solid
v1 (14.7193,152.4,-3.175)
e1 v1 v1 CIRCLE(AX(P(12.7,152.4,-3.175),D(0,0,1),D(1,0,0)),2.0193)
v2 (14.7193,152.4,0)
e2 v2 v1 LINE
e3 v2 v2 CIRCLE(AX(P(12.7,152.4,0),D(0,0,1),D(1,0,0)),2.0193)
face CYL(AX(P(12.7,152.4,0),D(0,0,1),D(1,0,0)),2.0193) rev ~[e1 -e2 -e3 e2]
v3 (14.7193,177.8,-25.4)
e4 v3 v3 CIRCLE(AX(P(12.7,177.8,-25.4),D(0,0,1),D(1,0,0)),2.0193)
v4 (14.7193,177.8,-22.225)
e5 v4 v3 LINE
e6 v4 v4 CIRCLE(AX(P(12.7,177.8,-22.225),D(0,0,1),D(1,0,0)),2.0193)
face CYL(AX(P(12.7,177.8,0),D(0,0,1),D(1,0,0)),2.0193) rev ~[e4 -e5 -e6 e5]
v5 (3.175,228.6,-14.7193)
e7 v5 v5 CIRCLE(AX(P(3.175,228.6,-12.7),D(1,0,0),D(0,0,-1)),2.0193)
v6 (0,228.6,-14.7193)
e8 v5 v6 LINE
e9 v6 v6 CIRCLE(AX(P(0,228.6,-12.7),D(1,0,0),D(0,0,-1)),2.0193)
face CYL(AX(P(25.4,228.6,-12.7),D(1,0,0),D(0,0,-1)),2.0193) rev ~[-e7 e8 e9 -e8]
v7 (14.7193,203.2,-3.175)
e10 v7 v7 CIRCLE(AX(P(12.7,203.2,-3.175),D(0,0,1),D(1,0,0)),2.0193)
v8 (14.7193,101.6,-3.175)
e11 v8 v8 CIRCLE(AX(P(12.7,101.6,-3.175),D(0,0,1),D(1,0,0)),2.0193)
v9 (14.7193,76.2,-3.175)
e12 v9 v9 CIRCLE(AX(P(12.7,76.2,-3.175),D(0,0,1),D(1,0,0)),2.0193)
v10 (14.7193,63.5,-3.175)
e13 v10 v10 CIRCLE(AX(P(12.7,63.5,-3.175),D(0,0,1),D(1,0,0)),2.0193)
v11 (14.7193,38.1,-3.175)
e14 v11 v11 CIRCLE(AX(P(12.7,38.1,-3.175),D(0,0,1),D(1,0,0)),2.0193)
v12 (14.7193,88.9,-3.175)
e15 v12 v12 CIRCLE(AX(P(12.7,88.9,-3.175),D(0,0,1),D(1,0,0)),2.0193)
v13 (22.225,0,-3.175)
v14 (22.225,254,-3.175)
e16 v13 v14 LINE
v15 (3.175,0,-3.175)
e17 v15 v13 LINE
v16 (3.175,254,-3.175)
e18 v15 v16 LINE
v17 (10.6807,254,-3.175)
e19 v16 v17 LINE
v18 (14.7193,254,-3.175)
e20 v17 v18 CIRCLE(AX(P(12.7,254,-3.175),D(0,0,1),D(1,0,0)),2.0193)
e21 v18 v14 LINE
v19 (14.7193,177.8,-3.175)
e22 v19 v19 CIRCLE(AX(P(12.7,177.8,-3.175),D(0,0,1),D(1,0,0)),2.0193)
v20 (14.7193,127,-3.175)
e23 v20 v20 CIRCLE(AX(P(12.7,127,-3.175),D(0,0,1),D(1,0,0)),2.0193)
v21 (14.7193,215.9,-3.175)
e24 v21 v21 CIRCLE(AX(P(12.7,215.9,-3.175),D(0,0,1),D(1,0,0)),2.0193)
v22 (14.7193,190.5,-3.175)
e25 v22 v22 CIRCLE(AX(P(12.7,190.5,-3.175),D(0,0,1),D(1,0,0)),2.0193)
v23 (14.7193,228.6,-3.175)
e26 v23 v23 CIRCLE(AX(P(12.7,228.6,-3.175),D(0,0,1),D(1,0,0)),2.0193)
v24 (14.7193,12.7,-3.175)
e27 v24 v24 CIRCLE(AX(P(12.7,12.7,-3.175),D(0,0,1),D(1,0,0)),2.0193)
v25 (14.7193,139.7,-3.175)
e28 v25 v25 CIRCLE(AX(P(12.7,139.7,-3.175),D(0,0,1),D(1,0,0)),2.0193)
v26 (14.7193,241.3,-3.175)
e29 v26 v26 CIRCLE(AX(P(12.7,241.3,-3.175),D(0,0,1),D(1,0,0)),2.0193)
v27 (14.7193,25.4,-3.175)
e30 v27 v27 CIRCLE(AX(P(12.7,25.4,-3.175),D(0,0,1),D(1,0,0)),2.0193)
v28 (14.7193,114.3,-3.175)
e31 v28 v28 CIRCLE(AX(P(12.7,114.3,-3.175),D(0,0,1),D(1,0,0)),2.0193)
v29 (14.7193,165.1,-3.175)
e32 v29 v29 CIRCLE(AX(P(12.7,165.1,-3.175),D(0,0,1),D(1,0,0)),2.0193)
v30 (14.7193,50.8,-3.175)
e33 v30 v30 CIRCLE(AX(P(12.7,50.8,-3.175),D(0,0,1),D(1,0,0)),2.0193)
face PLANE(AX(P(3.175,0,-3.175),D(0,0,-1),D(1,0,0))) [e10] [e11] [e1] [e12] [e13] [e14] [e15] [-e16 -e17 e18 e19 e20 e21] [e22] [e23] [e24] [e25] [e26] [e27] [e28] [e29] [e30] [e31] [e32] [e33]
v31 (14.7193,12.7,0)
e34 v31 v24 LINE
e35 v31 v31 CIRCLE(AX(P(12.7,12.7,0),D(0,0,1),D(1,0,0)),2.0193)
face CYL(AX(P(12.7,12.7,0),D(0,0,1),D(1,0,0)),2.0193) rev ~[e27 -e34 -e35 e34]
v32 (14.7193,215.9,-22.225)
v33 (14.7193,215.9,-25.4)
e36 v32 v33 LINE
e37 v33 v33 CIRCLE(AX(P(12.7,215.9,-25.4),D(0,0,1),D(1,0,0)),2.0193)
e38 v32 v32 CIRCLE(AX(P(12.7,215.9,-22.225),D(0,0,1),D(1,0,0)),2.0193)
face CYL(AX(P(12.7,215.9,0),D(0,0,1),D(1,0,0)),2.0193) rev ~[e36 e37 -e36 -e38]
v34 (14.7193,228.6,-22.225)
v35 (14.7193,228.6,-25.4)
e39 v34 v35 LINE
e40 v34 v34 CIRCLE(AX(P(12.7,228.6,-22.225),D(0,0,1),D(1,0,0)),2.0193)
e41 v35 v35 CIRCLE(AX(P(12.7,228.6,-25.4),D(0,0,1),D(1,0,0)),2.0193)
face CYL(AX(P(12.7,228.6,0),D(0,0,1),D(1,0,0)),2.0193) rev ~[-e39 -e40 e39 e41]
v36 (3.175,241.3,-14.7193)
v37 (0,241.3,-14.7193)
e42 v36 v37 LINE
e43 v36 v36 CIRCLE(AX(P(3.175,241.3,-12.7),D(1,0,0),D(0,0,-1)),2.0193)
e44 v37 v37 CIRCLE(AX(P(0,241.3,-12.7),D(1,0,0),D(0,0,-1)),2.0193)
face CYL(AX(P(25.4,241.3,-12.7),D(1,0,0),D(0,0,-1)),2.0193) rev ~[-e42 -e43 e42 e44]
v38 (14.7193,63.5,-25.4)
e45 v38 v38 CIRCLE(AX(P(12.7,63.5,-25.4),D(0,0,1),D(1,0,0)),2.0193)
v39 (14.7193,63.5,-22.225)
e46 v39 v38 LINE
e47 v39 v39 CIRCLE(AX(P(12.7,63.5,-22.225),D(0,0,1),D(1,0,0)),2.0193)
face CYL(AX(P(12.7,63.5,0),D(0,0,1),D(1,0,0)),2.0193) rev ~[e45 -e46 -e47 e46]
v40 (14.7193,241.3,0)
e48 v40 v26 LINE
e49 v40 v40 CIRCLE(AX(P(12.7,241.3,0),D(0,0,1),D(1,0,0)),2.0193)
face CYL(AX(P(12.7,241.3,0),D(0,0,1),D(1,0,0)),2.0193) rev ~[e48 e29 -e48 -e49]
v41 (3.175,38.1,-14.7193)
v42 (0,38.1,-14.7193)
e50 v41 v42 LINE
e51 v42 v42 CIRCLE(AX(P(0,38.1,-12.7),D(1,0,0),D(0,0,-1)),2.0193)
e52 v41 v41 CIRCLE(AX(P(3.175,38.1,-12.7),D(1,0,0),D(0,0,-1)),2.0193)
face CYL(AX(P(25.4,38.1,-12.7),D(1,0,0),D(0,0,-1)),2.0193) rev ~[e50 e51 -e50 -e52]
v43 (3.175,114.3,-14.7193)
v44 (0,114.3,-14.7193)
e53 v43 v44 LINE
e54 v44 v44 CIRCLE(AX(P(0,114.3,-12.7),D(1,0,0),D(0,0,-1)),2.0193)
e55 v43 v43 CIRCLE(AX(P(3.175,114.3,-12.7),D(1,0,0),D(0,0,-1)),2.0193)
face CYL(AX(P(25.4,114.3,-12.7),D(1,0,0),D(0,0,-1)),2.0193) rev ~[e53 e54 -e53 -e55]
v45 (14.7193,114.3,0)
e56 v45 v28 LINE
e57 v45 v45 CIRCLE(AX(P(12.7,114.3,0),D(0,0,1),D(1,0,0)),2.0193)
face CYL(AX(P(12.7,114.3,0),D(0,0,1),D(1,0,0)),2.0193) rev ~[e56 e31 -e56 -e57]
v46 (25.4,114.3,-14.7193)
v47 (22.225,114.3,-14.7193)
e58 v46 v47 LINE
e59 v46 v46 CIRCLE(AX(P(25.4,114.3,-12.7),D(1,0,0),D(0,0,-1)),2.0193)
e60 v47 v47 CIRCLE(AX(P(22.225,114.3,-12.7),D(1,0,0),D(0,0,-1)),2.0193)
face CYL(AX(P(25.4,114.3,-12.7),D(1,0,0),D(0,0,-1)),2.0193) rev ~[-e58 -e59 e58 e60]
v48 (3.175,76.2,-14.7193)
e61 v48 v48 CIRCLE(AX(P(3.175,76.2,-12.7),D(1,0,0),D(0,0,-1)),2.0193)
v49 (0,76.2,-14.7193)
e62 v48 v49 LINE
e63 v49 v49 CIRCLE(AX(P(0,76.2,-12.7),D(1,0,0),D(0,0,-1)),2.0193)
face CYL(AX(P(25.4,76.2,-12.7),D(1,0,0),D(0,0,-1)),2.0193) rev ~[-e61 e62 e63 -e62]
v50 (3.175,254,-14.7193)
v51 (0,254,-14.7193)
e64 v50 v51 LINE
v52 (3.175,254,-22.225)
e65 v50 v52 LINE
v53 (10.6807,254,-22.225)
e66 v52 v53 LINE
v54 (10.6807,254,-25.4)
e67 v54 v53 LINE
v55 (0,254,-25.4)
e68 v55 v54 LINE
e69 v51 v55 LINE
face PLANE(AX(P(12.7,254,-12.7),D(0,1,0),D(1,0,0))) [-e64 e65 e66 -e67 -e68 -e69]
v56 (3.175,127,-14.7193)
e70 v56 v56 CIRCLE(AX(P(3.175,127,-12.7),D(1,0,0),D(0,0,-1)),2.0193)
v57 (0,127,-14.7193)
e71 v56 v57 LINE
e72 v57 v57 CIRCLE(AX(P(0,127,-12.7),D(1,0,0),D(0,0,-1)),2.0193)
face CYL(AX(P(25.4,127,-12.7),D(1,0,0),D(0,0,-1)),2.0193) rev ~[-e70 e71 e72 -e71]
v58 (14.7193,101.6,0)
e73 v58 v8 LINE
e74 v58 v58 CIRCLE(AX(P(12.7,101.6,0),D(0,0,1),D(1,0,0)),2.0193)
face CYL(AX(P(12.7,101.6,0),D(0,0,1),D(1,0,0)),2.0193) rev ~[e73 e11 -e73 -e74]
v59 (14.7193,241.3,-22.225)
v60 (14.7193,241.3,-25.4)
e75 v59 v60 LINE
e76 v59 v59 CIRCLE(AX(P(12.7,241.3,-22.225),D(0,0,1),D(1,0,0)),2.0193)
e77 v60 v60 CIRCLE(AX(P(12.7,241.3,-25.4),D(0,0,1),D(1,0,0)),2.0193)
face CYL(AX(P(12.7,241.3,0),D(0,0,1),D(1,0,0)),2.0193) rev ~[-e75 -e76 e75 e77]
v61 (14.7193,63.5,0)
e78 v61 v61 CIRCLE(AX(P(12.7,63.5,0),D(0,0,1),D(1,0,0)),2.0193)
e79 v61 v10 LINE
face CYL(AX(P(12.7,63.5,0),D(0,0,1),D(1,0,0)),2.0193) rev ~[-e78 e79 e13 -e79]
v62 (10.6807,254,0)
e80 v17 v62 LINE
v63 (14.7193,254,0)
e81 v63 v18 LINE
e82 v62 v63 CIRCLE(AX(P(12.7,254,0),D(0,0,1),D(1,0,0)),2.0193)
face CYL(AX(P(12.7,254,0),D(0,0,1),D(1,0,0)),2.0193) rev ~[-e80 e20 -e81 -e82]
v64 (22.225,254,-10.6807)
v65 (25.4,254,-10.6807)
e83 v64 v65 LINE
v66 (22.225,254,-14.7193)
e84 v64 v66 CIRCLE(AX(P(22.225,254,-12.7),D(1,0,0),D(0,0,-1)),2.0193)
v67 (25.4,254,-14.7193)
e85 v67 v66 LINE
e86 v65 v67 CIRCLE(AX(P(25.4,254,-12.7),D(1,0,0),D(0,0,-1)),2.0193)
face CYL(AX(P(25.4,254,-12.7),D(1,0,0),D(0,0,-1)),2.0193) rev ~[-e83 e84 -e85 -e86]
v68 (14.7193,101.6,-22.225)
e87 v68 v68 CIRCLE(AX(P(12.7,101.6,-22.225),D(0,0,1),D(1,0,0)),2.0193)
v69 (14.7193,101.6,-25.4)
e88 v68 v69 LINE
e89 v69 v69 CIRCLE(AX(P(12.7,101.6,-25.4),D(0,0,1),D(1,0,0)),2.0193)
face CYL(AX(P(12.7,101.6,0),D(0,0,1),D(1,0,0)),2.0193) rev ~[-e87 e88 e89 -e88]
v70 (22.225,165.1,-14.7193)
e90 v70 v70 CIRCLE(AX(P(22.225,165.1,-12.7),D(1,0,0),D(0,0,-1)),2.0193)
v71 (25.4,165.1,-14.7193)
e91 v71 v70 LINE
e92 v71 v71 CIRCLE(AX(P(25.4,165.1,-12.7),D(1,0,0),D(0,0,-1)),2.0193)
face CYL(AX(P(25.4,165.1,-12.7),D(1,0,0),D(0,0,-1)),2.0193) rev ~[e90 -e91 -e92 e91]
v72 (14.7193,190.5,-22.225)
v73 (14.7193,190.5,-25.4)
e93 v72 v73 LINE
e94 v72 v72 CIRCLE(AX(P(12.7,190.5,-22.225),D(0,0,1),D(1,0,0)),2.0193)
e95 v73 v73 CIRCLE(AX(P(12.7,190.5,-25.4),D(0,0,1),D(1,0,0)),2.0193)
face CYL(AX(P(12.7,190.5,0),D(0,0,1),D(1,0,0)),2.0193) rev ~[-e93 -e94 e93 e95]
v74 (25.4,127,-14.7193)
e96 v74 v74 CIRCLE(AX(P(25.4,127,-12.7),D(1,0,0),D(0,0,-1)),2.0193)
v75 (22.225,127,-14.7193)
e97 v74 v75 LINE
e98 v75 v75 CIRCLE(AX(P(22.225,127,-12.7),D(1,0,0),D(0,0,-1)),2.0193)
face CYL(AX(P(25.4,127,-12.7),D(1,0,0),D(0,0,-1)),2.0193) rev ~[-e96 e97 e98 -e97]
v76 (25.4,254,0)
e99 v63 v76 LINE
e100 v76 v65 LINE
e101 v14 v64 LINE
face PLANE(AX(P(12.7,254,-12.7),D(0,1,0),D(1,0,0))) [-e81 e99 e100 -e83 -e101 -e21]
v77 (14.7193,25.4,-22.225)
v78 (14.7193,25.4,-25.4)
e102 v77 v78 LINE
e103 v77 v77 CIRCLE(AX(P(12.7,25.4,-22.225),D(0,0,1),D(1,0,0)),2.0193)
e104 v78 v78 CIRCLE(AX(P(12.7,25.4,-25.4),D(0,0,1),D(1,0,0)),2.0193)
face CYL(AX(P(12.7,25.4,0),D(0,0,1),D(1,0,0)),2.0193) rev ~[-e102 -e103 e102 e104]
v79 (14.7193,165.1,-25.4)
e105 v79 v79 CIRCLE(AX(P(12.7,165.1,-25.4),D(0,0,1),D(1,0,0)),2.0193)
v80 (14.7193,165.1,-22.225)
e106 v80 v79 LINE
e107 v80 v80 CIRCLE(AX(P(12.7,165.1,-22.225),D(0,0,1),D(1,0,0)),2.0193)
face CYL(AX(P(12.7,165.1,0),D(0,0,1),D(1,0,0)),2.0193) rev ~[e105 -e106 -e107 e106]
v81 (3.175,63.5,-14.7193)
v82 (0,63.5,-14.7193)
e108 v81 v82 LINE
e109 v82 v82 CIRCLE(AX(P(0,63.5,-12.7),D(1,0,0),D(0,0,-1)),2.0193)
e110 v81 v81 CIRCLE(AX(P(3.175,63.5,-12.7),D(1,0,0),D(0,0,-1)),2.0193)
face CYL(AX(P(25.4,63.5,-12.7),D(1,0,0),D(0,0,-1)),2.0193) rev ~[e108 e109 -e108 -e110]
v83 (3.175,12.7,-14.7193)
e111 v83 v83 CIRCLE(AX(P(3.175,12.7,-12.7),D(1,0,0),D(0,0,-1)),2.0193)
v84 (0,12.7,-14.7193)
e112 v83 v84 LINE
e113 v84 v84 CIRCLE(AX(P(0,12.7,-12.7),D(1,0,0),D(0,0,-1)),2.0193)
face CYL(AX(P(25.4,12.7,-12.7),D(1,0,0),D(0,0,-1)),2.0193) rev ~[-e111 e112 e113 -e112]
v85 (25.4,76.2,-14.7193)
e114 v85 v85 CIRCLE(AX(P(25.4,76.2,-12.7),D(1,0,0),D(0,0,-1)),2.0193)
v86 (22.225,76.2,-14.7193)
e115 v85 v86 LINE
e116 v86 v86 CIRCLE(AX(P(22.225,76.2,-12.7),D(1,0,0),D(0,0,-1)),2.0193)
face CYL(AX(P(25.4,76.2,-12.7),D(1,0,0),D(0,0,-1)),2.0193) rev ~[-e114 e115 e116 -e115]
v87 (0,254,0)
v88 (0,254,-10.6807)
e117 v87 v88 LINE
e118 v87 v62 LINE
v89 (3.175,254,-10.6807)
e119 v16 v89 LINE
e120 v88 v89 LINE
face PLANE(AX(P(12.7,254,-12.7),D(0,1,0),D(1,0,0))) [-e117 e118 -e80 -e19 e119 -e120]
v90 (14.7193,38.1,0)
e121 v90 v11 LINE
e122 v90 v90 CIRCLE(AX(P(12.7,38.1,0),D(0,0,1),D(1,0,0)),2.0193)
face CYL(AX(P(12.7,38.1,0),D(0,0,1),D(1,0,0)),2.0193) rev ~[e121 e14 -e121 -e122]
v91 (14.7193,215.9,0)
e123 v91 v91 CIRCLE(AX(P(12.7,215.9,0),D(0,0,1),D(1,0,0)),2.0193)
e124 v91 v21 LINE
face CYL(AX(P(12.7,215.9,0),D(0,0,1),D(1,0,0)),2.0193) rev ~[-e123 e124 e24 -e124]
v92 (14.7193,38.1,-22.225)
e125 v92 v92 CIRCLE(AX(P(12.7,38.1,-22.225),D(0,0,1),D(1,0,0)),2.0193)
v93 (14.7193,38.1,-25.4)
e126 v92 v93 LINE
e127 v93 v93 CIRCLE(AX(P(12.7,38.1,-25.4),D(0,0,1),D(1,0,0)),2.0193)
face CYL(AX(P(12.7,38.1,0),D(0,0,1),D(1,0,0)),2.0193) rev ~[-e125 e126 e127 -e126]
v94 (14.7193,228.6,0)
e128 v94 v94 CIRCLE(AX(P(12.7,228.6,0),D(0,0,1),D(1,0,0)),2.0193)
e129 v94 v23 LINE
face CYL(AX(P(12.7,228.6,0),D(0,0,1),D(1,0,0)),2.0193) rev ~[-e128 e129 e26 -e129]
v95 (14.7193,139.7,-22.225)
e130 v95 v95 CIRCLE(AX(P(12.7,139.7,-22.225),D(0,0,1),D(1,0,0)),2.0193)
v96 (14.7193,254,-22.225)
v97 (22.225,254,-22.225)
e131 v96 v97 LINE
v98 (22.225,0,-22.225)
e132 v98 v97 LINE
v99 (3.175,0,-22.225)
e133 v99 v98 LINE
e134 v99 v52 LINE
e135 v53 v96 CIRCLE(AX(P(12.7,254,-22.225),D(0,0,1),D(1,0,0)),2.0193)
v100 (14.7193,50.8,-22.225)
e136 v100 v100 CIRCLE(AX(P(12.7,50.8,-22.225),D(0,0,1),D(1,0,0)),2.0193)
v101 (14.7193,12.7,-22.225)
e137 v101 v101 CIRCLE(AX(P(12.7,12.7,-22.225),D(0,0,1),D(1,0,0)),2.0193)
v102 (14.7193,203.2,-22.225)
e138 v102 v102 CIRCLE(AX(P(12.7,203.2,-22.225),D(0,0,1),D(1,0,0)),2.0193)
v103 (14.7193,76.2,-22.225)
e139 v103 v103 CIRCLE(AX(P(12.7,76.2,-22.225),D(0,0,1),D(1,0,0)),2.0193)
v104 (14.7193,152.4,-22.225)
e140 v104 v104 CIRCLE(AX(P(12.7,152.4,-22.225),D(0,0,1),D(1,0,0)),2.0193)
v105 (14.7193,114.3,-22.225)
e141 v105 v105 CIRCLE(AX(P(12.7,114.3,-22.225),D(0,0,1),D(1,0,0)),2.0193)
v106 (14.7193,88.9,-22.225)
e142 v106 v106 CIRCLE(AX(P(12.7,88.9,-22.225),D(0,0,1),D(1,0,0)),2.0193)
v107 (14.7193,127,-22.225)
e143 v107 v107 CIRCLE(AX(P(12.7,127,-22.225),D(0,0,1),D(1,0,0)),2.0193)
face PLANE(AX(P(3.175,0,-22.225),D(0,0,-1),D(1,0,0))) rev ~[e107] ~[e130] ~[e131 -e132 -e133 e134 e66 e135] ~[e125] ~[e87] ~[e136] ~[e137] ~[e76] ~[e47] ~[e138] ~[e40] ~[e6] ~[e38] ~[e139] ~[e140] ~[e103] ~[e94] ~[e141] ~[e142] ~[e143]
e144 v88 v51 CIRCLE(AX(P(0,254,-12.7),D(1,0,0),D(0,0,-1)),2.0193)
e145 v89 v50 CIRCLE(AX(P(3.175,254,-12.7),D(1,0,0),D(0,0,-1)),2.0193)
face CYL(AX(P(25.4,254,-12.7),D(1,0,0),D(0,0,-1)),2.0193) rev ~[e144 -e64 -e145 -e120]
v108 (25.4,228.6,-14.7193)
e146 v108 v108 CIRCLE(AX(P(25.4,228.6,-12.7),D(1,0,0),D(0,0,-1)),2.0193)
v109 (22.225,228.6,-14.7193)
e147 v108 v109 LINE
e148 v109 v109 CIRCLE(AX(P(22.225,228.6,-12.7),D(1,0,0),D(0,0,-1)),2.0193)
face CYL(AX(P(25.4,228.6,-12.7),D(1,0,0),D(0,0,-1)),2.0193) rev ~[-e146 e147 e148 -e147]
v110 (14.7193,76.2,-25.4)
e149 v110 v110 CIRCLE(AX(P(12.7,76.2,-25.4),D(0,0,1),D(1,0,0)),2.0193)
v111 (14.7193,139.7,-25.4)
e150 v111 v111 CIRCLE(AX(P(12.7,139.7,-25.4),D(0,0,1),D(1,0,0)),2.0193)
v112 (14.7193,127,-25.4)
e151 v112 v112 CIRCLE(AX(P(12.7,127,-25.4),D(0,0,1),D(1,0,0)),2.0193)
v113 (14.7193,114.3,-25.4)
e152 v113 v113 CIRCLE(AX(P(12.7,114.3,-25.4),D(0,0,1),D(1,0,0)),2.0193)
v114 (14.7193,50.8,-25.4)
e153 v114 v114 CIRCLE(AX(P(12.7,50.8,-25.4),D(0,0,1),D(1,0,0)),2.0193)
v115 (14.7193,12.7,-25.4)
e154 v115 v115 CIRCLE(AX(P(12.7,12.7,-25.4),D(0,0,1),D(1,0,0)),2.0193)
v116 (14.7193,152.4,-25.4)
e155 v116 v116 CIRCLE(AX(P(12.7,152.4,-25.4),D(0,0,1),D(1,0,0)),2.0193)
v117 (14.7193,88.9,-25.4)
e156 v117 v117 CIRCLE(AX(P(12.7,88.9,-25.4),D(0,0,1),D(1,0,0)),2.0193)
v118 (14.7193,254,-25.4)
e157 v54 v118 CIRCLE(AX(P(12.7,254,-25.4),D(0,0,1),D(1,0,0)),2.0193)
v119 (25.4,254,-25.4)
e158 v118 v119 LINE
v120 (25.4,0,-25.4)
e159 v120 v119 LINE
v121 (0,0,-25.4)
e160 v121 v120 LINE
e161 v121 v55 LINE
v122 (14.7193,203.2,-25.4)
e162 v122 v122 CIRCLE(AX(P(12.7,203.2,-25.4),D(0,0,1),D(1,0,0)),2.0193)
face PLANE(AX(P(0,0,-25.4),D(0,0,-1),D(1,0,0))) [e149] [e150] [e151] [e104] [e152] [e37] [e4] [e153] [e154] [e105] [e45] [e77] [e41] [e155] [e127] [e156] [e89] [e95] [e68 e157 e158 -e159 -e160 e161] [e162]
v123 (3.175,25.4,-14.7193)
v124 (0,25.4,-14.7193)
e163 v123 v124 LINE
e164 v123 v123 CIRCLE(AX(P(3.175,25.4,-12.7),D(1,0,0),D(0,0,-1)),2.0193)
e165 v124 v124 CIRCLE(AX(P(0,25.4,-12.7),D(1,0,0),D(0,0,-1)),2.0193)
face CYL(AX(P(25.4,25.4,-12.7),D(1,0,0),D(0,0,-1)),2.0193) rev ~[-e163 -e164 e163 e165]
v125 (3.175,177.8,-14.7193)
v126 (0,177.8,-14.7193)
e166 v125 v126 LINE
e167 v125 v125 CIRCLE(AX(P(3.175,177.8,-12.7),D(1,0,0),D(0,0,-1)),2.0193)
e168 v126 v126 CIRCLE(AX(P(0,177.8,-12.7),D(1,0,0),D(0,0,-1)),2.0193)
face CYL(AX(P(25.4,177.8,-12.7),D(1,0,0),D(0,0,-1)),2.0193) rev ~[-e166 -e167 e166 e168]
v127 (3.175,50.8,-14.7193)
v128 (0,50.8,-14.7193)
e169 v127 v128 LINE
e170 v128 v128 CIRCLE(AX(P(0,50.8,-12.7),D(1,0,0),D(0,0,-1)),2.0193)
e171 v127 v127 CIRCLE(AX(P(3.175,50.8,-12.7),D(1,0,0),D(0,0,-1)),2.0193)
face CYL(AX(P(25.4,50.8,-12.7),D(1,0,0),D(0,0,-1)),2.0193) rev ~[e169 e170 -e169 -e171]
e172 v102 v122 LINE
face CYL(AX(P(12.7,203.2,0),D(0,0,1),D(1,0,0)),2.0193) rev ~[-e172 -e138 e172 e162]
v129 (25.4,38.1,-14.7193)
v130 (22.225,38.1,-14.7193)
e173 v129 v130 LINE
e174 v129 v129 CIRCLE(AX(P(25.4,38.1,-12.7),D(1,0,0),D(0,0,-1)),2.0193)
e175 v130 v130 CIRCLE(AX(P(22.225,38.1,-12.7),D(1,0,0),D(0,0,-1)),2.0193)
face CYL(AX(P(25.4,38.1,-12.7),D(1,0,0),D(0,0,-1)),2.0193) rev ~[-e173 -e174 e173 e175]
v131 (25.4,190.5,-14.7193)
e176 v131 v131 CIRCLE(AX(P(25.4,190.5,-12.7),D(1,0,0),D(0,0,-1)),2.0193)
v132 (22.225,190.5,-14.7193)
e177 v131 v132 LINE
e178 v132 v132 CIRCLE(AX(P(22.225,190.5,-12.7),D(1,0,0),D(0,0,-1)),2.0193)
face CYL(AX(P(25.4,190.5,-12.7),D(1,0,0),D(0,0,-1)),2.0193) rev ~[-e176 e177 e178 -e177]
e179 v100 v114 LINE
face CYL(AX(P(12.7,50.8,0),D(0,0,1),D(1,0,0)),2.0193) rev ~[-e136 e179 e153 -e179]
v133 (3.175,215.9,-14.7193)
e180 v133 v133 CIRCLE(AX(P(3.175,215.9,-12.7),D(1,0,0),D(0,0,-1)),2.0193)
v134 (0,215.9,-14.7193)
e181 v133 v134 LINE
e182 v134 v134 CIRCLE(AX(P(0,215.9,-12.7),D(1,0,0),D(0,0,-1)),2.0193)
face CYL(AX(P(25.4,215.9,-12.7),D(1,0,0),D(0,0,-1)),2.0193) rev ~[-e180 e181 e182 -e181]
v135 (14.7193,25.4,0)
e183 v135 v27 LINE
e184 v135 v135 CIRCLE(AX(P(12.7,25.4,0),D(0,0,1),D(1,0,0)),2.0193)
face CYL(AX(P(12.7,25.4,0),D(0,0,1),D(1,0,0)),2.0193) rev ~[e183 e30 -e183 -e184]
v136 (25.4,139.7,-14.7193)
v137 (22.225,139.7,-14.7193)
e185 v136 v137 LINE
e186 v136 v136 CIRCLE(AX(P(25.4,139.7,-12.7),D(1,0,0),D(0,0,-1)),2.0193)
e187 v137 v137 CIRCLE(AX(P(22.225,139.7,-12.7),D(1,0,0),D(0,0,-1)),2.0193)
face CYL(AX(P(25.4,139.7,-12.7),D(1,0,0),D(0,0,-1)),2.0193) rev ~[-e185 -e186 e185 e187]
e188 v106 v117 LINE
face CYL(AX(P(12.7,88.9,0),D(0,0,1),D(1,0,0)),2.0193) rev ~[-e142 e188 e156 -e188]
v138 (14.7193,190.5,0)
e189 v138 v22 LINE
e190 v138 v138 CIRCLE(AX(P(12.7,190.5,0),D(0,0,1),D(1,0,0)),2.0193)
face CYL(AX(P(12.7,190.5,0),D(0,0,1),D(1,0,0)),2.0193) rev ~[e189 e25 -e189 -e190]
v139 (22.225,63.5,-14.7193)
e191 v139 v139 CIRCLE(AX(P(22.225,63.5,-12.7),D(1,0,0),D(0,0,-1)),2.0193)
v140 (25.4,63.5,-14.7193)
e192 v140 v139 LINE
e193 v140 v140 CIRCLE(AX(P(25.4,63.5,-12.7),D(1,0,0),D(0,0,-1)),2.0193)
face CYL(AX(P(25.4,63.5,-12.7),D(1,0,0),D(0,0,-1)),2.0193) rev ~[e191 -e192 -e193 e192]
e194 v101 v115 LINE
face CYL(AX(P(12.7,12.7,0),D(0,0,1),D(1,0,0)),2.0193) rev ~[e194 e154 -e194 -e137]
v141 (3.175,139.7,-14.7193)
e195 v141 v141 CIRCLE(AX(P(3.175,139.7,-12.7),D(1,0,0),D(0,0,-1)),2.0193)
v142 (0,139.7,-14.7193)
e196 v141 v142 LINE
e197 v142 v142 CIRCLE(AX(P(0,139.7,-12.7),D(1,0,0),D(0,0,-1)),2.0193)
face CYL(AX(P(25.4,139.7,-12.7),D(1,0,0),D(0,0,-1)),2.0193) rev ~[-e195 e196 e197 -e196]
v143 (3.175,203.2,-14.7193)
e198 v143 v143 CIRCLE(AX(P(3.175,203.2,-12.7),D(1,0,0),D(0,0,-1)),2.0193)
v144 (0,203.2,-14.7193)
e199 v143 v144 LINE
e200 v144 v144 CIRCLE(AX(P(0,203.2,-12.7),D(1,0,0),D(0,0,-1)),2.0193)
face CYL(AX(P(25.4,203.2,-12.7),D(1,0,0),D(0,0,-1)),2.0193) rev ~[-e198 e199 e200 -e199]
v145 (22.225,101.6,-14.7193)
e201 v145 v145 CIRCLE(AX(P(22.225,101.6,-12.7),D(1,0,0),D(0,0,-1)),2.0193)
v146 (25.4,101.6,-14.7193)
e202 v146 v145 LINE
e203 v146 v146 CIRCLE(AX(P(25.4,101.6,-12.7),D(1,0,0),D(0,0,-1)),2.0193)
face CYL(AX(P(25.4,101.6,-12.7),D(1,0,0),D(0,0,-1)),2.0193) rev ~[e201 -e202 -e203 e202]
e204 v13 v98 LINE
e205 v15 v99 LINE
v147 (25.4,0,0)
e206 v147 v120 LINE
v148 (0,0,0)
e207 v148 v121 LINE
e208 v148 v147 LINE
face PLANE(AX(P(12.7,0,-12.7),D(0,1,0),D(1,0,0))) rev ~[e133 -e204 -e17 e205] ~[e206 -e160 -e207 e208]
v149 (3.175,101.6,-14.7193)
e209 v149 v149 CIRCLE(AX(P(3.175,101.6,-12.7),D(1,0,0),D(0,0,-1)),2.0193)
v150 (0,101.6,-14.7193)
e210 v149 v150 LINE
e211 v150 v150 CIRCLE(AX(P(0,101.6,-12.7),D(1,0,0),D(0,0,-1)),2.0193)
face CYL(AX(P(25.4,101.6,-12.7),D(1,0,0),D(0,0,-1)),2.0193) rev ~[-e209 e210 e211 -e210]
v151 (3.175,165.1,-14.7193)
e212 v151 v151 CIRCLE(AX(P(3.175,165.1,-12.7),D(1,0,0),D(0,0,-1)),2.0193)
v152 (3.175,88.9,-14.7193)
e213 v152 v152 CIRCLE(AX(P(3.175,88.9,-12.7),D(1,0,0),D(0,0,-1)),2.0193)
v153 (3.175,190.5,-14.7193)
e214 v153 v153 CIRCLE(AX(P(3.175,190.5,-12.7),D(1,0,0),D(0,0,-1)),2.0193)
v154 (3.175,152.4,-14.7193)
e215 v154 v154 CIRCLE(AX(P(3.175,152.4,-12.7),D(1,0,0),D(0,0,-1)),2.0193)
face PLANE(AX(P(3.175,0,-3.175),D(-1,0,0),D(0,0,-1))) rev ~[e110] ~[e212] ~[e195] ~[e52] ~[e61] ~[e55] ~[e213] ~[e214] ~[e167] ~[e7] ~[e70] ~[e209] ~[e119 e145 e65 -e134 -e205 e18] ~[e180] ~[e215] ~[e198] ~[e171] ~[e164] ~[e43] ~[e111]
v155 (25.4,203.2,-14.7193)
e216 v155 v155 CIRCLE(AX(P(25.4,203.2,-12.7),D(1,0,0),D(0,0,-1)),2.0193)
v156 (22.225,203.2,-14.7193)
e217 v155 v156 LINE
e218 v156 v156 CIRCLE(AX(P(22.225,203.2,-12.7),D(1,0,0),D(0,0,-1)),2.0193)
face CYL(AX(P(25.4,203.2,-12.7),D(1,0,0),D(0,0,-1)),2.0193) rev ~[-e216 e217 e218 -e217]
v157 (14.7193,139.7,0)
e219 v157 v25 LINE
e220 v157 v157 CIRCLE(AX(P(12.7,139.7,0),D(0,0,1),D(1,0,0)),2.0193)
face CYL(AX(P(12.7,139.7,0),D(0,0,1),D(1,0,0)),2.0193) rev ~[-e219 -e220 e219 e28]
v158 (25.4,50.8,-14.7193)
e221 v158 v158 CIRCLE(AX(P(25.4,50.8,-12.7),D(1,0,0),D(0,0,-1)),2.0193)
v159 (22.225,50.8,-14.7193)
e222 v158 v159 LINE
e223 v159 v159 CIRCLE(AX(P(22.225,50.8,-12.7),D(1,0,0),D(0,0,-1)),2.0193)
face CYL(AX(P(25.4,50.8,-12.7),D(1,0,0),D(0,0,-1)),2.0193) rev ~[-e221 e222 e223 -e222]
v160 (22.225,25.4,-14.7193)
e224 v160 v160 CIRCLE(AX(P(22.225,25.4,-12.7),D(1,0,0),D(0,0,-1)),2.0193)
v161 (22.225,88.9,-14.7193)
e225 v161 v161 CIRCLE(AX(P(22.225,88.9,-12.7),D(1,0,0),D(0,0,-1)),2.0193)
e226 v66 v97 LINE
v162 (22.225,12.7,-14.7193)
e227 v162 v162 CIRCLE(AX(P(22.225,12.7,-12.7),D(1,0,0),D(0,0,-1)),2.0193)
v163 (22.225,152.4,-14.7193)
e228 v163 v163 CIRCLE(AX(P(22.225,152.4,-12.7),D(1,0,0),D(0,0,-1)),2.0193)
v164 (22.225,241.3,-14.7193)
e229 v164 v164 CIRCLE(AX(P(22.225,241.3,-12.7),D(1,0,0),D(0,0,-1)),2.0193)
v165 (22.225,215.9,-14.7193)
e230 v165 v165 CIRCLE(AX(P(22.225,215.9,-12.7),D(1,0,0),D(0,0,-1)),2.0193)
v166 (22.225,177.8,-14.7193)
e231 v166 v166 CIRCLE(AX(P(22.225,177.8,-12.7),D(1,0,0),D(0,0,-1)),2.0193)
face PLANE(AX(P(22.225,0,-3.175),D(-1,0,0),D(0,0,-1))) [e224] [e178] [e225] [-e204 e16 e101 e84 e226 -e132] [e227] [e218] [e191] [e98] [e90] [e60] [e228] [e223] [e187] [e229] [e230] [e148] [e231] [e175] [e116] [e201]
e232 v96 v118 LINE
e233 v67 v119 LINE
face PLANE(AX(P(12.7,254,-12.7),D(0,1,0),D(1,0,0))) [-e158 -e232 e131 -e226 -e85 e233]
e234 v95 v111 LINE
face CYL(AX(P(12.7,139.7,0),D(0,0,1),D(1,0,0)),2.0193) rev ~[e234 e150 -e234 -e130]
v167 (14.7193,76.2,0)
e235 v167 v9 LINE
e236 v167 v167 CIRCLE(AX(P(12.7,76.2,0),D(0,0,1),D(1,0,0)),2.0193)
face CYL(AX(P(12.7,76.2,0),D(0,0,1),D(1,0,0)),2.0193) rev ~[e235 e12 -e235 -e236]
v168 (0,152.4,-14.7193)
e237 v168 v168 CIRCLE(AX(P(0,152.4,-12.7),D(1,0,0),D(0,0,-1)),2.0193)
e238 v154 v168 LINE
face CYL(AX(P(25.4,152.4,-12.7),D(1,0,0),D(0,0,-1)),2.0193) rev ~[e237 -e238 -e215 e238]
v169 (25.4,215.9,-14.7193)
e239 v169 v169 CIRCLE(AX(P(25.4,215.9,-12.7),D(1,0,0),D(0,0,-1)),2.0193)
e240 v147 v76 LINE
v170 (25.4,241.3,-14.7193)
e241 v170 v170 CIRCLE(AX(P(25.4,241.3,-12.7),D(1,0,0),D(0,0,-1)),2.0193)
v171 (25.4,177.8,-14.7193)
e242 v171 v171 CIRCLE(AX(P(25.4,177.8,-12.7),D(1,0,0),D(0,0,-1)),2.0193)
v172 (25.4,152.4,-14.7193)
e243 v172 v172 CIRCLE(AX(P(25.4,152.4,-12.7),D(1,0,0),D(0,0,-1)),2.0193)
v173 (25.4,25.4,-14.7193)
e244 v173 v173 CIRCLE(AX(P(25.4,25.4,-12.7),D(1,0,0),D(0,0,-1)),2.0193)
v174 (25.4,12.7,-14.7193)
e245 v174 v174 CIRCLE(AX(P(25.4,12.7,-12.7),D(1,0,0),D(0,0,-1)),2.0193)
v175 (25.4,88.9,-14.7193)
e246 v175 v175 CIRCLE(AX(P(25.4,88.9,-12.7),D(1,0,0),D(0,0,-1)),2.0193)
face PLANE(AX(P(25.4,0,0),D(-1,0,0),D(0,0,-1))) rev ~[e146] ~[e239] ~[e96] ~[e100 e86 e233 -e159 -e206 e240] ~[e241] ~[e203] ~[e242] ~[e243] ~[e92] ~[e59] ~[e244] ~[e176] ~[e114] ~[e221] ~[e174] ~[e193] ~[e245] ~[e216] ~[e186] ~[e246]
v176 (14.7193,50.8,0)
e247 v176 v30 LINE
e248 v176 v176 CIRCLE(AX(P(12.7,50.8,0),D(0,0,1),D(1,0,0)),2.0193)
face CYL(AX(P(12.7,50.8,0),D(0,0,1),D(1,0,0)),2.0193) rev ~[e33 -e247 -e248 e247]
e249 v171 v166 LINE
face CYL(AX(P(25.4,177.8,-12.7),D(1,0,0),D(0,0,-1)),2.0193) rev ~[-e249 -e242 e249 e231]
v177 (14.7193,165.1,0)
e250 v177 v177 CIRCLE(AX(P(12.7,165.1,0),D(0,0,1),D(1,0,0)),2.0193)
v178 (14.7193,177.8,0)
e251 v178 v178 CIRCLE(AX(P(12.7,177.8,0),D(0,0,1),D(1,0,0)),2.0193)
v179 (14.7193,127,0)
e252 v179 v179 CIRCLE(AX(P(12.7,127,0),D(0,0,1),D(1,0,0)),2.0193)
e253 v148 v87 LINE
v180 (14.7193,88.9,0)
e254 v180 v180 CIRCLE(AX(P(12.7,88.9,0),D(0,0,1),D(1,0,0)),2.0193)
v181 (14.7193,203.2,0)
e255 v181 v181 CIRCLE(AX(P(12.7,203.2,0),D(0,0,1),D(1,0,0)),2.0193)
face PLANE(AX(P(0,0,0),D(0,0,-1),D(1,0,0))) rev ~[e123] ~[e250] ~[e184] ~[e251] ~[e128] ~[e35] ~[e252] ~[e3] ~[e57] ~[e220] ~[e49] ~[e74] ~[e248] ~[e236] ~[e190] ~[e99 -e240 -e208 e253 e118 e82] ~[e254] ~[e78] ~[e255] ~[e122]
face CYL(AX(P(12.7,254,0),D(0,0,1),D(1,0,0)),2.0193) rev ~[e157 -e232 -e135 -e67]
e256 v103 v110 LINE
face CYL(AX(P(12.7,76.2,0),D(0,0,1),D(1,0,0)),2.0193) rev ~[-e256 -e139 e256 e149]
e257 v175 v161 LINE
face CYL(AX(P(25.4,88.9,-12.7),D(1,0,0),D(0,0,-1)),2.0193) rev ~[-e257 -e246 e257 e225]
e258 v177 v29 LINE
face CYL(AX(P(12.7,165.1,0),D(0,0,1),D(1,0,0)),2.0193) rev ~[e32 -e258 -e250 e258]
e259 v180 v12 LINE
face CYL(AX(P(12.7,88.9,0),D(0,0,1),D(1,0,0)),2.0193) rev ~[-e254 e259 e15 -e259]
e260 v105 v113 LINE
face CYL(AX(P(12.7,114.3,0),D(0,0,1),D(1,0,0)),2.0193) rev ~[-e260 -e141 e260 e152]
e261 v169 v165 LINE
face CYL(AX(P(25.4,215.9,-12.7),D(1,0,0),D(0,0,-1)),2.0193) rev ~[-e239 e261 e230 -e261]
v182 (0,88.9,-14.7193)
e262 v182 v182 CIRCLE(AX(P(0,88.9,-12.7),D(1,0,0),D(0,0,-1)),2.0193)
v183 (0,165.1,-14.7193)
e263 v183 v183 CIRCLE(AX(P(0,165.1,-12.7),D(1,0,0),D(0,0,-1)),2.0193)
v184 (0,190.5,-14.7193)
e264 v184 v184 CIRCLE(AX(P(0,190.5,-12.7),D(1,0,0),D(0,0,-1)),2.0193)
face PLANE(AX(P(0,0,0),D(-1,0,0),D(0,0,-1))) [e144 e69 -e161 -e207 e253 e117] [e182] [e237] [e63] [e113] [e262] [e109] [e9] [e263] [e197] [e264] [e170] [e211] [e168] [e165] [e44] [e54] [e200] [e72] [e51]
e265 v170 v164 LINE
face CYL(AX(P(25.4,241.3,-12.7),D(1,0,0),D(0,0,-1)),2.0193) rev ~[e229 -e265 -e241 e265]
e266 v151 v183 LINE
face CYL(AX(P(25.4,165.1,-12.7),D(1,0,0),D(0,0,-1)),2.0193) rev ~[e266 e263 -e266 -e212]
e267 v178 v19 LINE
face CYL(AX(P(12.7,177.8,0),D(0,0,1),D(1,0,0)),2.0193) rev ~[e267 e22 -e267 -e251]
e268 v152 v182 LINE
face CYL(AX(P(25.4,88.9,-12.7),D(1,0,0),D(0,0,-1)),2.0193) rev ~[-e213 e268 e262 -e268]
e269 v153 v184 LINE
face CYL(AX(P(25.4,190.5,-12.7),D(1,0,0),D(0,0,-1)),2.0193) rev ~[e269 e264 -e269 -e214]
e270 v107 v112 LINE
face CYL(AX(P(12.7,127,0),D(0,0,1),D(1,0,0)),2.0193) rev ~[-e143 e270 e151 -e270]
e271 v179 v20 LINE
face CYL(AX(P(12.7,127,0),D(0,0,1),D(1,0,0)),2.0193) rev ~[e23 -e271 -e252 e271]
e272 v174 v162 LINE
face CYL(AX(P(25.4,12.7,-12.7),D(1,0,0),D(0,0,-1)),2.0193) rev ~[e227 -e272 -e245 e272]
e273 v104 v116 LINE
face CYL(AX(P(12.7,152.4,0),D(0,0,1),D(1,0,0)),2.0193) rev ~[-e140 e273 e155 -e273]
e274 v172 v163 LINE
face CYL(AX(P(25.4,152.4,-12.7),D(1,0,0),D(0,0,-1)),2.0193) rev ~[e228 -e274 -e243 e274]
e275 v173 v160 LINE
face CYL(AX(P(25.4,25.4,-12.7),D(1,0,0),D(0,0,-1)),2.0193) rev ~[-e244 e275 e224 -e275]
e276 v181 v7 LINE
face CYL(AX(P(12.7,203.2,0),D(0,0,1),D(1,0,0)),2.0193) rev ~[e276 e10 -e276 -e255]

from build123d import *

# Parameters (mm, degrees)
SKETCH1_W           = 25.4
SKETCH1_H           = 25.4
SKETCH1_W_2         = 19.05
SKETCH1_H_2         = 19.05
BOSS_EXTRUDE1_DEPTH = 254
SKETCH2_R           = 2.0193
CUT_EXTRUDE1_DEPTH  = 635
SKETCH3_R           = 2.0193
CUT_EXTRUDE2_DEPTH  = 635


with BuildPart() as part:
    # Sketch1 → Boss-Extrude1 (new body)
    with BuildSketch(Plane(origin=(0, 0, 0), x_dir=(1, 0, 0), z_dir=(0, 1, 0))):
        with Locations((12.7, 12.7)):
            Rectangle(SKETCH1_W, SKETCH1_H)
        with Locations((12.7, 12.7)):
            Rectangle(SKETCH1_W_2, SKETCH1_H_2, mode=Mode.SUBTRACT)
    extrude(amount=BOSS_EXTRUDE1_DEPTH)

    # Sketch2 → Cut-Extrude1 (cut)
    with BuildSketch(Plane.XY):
        with Locations((12.7, 12.7)):
            Circle(SKETCH2_R)
        with Locations((12.7, 25.4)):
            Circle(SKETCH2_R)
        with Locations((12.7, 38.1)):
            Circle(SKETCH2_R)
        with Locations((12.7, 50.8)):
            Circle(SKETCH2_R)
        with Locations((12.7, 63.5)):
            Circle(SKETCH2_R)
        with Locations((12.7, 76.2)):
            Circle(SKETCH2_R)
        with Locations((12.7, 88.9)):
            Circle(SKETCH2_R)
        with Locations((12.7, 101.6)):
            Circle(SKETCH2_R)
        with Locations((12.7, 114.3)):
            Circle(SKETCH2_R)
        with Locations((12.7, 127)):
            Circle(SKETCH2_R)
        with Locations((12.7, 139.7)):
            Circle(SKETCH2_R)
        with Locations((12.7, 152.4)):
            Circle(SKETCH2_R)
        with Locations((12.7, 165.1)):
            Circle(SKETCH2_R)
        with Locations((12.7, 177.8)):
            Circle(SKETCH2_R)
        with Locations((12.7, 190.5)):
            Circle(SKETCH2_R)
        with Locations((12.7, 203.2)):
            Circle(SKETCH2_R)
        with Locations((12.7, 215.9)):
            Circle(SKETCH2_R)
        with Locations((12.7, 228.6)):
            Circle(SKETCH2_R)
        with Locations((12.7, 241.3)):
            Circle(SKETCH2_R)
        with Locations((12.7, 254)):
            Circle(SKETCH2_R)
        with Locations((12.7, 266.7)):
            Circle(SKETCH2_R)
        with Locations((12.7, 279.4)):
            Circle(SKETCH2_R)
        with Locations((12.7, 292.1)):
            Circle(SKETCH2_R)
        with Locations((12.7, 304.8)):
            Circle(SKETCH2_R)
        with Locations((12.7, 317.5)):
            Circle(SKETCH2_R)
        with Locations((12.7, 330.2)):
            Circle(SKETCH2_R)
        with Locations((12.7, 342.9)):
            Circle(SKETCH2_R)
        with Locations((12.7, 355.6)):
            Circle(SKETCH2_R)
        with Locations((12.7, 368.3)):
            Circle(SKETCH2_R)
        with Locations((12.7, 381)):
            Circle(SKETCH2_R)
        with Locations((12.7, 393.7)):
            Circle(SKETCH2_R)
        with Locations((12.7, 406.4)):
            Circle(SKETCH2_R)
        with Locations((12.7, 419.1)):
            Circle(SKETCH2_R)
        with Locations((12.7, 431.8)):
            Circle(SKETCH2_R)
        with Locations((12.7, 444.5)):
            Circle(SKETCH2_R)
        with Locations((12.7, 457.2)):
            Circle(SKETCH2_R)
        with Locations((12.7, 469.9)):
            Circle(SKETCH2_R)
        with Locations((12.7, 482.6)):
            Circle(SKETCH2_R)
        with Locations((12.7, 495.3)):
            Circle(SKETCH2_R)
        with Locations((12.7, 508)):
            Circle(SKETCH2_R)
        with Locations((12.7, 520.7)):
            Circle(SKETCH2_R)
        with Locations((12.7, 533.4)):
            Circle(SKETCH2_R)
        with Locations((12.7, 546.1)):
            Circle(SKETCH2_R)
        with Locations((12.7, 558.8)):
            Circle(SKETCH2_R)
        with Locations((12.7, 571.5)):
            Circle(SKETCH2_R)
        with Locations((12.7, 584.2)):
            Circle(SKETCH2_R)
        with Locations((12.7, 596.9)):
            Circle(SKETCH2_R)
        with Locations((12.7, 609.6)):
            Circle(SKETCH2_R)
        with Locations((12.7, 622.3)):
            Circle(SKETCH2_R)
    extrude(amount=-CUT_EXTRUDE1_DEPTH, mode=Mode.SUBTRACT)

    # Sketch3 → Cut-Extrude2 (cut)
    with BuildSketch(Plane(origin=(25.4, 0, 0), x_dir=(0, 0, -1), z_dir=(1, 0, 0))):
        with Locations((12.7, 12.7)):
            Circle(SKETCH3_R)
        with Locations((12.7, 25.4)):
            Circle(SKETCH3_R)
        with Locations((12.7, 38.1)):
            Circle(SKETCH3_R)
        with Locations((12.7, 50.8)):
            Circle(SKETCH3_R)
        with Locations((12.7, 63.5)):
            Circle(SKETCH3_R)
        with Locations((12.7, 76.2)):
            Circle(SKETCH3_R)
        with Locations((12.7, 88.9)):
            Circle(SKETCH3_R)
        with Locations((12.7, 101.6)):
            Circle(SKETCH3_R)
        with Locations((12.7, 114.3)):
            Circle(SKETCH3_R)
        with Locations((12.7, 127)):
            Circle(SKETCH3_R)
        with Locations((12.7, 139.7)):
            Circle(SKETCH3_R)
        with Locations((12.7, 152.4)):
            Circle(SKETCH3_R)
        with Locations((12.7, 165.1)):
            Circle(SKETCH3_R)
        with Locations((12.7, 177.8)):
            Circle(SKETCH3_R)
        with Locations((12.7, 190.5)):
            Circle(SKETCH3_R)
        with Locations((12.7, 203.2)):
            Circle(SKETCH3_R)
        with Locations((12.7, 215.9)):
            Circle(SKETCH3_R)
        with Locations((12.7, 228.6)):
            Circle(SKETCH3_R)
        with Locations((12.7, 241.3)):
            Circle(SKETCH3_R)
        with Locations((12.7, 254)):
            Circle(SKETCH3_R)
        with Locations((12.7, 266.7)):
            Circle(SKETCH3_R)
        with Locations((12.7, 279.4)):
            Circle(SKETCH3_R)
        with Locations((12.7, 292.1)):
            Circle(SKETCH3_R)
        with Locations((12.7, 304.8)):
            Circle(SKETCH3_R)
        with Locations((12.7, 317.5)):
            Circle(SKETCH3_R)
        with Locations((12.7, 330.2)):
            Circle(SKETCH3_R)
        with Locations((12.7, 342.9)):
            Circle(SKETCH3_R)
        with Locations((12.7, 355.6)):
            Circle(SKETCH3_R)
        with Locations((12.7, 368.3)):
            Circle(SKETCH3_R)
        with Locations((12.7, 381)):
            Circle(SKETCH3_R)
        with Locations((12.7, 393.7)):
            Circle(SKETCH3_R)
        with Locations((12.7, 406.4)):
            Circle(SKETCH3_R)
        with Locations((12.7, 419.1)):
            Circle(SKETCH3_R)
        with Locations((12.7, 431.8)):
            Circle(SKETCH3_R)
        with Locations((12.7, 444.5)):
            Circle(SKETCH3_R)
        with Locations((12.7, 457.2)):
            Circle(SKETCH3_R)
        with Locations((12.7, 469.9)):
            Circle(SKETCH3_R)
        with Locations((12.7, 482.6)):
            Circle(SKETCH3_R)
        with Locations((12.7, 495.3)):
            Circle(SKETCH3_R)
        with Locations((12.7, 508)):
            Circle(SKETCH3_R)
        with Locations((12.7, 520.7)):
            Circle(SKETCH3_R)
        with Locations((12.7, 533.4)):
            Circle(SKETCH3_R)
        with Locations((12.7, 546.1)):
            Circle(SKETCH3_R)
        with Locations((12.7, 558.8)):
            Circle(SKETCH3_R)
        with Locations((12.7, 571.5)):
            Circle(SKETCH3_R)
        with Locations((12.7, 584.2)):
            Circle(SKETCH3_R)
        with Locations((12.7, 596.9)):
            Circle(SKETCH3_R)
        with Locations((12.7, 609.6)):
            Circle(SKETCH3_R)
        with Locations((12.7, 622.3)):
            Circle(SKETCH3_R)
    extrude(amount=-CUT_EXTRUDE2_DEPTH, mode=Mode.SUBTRACT)


solid = part.part
